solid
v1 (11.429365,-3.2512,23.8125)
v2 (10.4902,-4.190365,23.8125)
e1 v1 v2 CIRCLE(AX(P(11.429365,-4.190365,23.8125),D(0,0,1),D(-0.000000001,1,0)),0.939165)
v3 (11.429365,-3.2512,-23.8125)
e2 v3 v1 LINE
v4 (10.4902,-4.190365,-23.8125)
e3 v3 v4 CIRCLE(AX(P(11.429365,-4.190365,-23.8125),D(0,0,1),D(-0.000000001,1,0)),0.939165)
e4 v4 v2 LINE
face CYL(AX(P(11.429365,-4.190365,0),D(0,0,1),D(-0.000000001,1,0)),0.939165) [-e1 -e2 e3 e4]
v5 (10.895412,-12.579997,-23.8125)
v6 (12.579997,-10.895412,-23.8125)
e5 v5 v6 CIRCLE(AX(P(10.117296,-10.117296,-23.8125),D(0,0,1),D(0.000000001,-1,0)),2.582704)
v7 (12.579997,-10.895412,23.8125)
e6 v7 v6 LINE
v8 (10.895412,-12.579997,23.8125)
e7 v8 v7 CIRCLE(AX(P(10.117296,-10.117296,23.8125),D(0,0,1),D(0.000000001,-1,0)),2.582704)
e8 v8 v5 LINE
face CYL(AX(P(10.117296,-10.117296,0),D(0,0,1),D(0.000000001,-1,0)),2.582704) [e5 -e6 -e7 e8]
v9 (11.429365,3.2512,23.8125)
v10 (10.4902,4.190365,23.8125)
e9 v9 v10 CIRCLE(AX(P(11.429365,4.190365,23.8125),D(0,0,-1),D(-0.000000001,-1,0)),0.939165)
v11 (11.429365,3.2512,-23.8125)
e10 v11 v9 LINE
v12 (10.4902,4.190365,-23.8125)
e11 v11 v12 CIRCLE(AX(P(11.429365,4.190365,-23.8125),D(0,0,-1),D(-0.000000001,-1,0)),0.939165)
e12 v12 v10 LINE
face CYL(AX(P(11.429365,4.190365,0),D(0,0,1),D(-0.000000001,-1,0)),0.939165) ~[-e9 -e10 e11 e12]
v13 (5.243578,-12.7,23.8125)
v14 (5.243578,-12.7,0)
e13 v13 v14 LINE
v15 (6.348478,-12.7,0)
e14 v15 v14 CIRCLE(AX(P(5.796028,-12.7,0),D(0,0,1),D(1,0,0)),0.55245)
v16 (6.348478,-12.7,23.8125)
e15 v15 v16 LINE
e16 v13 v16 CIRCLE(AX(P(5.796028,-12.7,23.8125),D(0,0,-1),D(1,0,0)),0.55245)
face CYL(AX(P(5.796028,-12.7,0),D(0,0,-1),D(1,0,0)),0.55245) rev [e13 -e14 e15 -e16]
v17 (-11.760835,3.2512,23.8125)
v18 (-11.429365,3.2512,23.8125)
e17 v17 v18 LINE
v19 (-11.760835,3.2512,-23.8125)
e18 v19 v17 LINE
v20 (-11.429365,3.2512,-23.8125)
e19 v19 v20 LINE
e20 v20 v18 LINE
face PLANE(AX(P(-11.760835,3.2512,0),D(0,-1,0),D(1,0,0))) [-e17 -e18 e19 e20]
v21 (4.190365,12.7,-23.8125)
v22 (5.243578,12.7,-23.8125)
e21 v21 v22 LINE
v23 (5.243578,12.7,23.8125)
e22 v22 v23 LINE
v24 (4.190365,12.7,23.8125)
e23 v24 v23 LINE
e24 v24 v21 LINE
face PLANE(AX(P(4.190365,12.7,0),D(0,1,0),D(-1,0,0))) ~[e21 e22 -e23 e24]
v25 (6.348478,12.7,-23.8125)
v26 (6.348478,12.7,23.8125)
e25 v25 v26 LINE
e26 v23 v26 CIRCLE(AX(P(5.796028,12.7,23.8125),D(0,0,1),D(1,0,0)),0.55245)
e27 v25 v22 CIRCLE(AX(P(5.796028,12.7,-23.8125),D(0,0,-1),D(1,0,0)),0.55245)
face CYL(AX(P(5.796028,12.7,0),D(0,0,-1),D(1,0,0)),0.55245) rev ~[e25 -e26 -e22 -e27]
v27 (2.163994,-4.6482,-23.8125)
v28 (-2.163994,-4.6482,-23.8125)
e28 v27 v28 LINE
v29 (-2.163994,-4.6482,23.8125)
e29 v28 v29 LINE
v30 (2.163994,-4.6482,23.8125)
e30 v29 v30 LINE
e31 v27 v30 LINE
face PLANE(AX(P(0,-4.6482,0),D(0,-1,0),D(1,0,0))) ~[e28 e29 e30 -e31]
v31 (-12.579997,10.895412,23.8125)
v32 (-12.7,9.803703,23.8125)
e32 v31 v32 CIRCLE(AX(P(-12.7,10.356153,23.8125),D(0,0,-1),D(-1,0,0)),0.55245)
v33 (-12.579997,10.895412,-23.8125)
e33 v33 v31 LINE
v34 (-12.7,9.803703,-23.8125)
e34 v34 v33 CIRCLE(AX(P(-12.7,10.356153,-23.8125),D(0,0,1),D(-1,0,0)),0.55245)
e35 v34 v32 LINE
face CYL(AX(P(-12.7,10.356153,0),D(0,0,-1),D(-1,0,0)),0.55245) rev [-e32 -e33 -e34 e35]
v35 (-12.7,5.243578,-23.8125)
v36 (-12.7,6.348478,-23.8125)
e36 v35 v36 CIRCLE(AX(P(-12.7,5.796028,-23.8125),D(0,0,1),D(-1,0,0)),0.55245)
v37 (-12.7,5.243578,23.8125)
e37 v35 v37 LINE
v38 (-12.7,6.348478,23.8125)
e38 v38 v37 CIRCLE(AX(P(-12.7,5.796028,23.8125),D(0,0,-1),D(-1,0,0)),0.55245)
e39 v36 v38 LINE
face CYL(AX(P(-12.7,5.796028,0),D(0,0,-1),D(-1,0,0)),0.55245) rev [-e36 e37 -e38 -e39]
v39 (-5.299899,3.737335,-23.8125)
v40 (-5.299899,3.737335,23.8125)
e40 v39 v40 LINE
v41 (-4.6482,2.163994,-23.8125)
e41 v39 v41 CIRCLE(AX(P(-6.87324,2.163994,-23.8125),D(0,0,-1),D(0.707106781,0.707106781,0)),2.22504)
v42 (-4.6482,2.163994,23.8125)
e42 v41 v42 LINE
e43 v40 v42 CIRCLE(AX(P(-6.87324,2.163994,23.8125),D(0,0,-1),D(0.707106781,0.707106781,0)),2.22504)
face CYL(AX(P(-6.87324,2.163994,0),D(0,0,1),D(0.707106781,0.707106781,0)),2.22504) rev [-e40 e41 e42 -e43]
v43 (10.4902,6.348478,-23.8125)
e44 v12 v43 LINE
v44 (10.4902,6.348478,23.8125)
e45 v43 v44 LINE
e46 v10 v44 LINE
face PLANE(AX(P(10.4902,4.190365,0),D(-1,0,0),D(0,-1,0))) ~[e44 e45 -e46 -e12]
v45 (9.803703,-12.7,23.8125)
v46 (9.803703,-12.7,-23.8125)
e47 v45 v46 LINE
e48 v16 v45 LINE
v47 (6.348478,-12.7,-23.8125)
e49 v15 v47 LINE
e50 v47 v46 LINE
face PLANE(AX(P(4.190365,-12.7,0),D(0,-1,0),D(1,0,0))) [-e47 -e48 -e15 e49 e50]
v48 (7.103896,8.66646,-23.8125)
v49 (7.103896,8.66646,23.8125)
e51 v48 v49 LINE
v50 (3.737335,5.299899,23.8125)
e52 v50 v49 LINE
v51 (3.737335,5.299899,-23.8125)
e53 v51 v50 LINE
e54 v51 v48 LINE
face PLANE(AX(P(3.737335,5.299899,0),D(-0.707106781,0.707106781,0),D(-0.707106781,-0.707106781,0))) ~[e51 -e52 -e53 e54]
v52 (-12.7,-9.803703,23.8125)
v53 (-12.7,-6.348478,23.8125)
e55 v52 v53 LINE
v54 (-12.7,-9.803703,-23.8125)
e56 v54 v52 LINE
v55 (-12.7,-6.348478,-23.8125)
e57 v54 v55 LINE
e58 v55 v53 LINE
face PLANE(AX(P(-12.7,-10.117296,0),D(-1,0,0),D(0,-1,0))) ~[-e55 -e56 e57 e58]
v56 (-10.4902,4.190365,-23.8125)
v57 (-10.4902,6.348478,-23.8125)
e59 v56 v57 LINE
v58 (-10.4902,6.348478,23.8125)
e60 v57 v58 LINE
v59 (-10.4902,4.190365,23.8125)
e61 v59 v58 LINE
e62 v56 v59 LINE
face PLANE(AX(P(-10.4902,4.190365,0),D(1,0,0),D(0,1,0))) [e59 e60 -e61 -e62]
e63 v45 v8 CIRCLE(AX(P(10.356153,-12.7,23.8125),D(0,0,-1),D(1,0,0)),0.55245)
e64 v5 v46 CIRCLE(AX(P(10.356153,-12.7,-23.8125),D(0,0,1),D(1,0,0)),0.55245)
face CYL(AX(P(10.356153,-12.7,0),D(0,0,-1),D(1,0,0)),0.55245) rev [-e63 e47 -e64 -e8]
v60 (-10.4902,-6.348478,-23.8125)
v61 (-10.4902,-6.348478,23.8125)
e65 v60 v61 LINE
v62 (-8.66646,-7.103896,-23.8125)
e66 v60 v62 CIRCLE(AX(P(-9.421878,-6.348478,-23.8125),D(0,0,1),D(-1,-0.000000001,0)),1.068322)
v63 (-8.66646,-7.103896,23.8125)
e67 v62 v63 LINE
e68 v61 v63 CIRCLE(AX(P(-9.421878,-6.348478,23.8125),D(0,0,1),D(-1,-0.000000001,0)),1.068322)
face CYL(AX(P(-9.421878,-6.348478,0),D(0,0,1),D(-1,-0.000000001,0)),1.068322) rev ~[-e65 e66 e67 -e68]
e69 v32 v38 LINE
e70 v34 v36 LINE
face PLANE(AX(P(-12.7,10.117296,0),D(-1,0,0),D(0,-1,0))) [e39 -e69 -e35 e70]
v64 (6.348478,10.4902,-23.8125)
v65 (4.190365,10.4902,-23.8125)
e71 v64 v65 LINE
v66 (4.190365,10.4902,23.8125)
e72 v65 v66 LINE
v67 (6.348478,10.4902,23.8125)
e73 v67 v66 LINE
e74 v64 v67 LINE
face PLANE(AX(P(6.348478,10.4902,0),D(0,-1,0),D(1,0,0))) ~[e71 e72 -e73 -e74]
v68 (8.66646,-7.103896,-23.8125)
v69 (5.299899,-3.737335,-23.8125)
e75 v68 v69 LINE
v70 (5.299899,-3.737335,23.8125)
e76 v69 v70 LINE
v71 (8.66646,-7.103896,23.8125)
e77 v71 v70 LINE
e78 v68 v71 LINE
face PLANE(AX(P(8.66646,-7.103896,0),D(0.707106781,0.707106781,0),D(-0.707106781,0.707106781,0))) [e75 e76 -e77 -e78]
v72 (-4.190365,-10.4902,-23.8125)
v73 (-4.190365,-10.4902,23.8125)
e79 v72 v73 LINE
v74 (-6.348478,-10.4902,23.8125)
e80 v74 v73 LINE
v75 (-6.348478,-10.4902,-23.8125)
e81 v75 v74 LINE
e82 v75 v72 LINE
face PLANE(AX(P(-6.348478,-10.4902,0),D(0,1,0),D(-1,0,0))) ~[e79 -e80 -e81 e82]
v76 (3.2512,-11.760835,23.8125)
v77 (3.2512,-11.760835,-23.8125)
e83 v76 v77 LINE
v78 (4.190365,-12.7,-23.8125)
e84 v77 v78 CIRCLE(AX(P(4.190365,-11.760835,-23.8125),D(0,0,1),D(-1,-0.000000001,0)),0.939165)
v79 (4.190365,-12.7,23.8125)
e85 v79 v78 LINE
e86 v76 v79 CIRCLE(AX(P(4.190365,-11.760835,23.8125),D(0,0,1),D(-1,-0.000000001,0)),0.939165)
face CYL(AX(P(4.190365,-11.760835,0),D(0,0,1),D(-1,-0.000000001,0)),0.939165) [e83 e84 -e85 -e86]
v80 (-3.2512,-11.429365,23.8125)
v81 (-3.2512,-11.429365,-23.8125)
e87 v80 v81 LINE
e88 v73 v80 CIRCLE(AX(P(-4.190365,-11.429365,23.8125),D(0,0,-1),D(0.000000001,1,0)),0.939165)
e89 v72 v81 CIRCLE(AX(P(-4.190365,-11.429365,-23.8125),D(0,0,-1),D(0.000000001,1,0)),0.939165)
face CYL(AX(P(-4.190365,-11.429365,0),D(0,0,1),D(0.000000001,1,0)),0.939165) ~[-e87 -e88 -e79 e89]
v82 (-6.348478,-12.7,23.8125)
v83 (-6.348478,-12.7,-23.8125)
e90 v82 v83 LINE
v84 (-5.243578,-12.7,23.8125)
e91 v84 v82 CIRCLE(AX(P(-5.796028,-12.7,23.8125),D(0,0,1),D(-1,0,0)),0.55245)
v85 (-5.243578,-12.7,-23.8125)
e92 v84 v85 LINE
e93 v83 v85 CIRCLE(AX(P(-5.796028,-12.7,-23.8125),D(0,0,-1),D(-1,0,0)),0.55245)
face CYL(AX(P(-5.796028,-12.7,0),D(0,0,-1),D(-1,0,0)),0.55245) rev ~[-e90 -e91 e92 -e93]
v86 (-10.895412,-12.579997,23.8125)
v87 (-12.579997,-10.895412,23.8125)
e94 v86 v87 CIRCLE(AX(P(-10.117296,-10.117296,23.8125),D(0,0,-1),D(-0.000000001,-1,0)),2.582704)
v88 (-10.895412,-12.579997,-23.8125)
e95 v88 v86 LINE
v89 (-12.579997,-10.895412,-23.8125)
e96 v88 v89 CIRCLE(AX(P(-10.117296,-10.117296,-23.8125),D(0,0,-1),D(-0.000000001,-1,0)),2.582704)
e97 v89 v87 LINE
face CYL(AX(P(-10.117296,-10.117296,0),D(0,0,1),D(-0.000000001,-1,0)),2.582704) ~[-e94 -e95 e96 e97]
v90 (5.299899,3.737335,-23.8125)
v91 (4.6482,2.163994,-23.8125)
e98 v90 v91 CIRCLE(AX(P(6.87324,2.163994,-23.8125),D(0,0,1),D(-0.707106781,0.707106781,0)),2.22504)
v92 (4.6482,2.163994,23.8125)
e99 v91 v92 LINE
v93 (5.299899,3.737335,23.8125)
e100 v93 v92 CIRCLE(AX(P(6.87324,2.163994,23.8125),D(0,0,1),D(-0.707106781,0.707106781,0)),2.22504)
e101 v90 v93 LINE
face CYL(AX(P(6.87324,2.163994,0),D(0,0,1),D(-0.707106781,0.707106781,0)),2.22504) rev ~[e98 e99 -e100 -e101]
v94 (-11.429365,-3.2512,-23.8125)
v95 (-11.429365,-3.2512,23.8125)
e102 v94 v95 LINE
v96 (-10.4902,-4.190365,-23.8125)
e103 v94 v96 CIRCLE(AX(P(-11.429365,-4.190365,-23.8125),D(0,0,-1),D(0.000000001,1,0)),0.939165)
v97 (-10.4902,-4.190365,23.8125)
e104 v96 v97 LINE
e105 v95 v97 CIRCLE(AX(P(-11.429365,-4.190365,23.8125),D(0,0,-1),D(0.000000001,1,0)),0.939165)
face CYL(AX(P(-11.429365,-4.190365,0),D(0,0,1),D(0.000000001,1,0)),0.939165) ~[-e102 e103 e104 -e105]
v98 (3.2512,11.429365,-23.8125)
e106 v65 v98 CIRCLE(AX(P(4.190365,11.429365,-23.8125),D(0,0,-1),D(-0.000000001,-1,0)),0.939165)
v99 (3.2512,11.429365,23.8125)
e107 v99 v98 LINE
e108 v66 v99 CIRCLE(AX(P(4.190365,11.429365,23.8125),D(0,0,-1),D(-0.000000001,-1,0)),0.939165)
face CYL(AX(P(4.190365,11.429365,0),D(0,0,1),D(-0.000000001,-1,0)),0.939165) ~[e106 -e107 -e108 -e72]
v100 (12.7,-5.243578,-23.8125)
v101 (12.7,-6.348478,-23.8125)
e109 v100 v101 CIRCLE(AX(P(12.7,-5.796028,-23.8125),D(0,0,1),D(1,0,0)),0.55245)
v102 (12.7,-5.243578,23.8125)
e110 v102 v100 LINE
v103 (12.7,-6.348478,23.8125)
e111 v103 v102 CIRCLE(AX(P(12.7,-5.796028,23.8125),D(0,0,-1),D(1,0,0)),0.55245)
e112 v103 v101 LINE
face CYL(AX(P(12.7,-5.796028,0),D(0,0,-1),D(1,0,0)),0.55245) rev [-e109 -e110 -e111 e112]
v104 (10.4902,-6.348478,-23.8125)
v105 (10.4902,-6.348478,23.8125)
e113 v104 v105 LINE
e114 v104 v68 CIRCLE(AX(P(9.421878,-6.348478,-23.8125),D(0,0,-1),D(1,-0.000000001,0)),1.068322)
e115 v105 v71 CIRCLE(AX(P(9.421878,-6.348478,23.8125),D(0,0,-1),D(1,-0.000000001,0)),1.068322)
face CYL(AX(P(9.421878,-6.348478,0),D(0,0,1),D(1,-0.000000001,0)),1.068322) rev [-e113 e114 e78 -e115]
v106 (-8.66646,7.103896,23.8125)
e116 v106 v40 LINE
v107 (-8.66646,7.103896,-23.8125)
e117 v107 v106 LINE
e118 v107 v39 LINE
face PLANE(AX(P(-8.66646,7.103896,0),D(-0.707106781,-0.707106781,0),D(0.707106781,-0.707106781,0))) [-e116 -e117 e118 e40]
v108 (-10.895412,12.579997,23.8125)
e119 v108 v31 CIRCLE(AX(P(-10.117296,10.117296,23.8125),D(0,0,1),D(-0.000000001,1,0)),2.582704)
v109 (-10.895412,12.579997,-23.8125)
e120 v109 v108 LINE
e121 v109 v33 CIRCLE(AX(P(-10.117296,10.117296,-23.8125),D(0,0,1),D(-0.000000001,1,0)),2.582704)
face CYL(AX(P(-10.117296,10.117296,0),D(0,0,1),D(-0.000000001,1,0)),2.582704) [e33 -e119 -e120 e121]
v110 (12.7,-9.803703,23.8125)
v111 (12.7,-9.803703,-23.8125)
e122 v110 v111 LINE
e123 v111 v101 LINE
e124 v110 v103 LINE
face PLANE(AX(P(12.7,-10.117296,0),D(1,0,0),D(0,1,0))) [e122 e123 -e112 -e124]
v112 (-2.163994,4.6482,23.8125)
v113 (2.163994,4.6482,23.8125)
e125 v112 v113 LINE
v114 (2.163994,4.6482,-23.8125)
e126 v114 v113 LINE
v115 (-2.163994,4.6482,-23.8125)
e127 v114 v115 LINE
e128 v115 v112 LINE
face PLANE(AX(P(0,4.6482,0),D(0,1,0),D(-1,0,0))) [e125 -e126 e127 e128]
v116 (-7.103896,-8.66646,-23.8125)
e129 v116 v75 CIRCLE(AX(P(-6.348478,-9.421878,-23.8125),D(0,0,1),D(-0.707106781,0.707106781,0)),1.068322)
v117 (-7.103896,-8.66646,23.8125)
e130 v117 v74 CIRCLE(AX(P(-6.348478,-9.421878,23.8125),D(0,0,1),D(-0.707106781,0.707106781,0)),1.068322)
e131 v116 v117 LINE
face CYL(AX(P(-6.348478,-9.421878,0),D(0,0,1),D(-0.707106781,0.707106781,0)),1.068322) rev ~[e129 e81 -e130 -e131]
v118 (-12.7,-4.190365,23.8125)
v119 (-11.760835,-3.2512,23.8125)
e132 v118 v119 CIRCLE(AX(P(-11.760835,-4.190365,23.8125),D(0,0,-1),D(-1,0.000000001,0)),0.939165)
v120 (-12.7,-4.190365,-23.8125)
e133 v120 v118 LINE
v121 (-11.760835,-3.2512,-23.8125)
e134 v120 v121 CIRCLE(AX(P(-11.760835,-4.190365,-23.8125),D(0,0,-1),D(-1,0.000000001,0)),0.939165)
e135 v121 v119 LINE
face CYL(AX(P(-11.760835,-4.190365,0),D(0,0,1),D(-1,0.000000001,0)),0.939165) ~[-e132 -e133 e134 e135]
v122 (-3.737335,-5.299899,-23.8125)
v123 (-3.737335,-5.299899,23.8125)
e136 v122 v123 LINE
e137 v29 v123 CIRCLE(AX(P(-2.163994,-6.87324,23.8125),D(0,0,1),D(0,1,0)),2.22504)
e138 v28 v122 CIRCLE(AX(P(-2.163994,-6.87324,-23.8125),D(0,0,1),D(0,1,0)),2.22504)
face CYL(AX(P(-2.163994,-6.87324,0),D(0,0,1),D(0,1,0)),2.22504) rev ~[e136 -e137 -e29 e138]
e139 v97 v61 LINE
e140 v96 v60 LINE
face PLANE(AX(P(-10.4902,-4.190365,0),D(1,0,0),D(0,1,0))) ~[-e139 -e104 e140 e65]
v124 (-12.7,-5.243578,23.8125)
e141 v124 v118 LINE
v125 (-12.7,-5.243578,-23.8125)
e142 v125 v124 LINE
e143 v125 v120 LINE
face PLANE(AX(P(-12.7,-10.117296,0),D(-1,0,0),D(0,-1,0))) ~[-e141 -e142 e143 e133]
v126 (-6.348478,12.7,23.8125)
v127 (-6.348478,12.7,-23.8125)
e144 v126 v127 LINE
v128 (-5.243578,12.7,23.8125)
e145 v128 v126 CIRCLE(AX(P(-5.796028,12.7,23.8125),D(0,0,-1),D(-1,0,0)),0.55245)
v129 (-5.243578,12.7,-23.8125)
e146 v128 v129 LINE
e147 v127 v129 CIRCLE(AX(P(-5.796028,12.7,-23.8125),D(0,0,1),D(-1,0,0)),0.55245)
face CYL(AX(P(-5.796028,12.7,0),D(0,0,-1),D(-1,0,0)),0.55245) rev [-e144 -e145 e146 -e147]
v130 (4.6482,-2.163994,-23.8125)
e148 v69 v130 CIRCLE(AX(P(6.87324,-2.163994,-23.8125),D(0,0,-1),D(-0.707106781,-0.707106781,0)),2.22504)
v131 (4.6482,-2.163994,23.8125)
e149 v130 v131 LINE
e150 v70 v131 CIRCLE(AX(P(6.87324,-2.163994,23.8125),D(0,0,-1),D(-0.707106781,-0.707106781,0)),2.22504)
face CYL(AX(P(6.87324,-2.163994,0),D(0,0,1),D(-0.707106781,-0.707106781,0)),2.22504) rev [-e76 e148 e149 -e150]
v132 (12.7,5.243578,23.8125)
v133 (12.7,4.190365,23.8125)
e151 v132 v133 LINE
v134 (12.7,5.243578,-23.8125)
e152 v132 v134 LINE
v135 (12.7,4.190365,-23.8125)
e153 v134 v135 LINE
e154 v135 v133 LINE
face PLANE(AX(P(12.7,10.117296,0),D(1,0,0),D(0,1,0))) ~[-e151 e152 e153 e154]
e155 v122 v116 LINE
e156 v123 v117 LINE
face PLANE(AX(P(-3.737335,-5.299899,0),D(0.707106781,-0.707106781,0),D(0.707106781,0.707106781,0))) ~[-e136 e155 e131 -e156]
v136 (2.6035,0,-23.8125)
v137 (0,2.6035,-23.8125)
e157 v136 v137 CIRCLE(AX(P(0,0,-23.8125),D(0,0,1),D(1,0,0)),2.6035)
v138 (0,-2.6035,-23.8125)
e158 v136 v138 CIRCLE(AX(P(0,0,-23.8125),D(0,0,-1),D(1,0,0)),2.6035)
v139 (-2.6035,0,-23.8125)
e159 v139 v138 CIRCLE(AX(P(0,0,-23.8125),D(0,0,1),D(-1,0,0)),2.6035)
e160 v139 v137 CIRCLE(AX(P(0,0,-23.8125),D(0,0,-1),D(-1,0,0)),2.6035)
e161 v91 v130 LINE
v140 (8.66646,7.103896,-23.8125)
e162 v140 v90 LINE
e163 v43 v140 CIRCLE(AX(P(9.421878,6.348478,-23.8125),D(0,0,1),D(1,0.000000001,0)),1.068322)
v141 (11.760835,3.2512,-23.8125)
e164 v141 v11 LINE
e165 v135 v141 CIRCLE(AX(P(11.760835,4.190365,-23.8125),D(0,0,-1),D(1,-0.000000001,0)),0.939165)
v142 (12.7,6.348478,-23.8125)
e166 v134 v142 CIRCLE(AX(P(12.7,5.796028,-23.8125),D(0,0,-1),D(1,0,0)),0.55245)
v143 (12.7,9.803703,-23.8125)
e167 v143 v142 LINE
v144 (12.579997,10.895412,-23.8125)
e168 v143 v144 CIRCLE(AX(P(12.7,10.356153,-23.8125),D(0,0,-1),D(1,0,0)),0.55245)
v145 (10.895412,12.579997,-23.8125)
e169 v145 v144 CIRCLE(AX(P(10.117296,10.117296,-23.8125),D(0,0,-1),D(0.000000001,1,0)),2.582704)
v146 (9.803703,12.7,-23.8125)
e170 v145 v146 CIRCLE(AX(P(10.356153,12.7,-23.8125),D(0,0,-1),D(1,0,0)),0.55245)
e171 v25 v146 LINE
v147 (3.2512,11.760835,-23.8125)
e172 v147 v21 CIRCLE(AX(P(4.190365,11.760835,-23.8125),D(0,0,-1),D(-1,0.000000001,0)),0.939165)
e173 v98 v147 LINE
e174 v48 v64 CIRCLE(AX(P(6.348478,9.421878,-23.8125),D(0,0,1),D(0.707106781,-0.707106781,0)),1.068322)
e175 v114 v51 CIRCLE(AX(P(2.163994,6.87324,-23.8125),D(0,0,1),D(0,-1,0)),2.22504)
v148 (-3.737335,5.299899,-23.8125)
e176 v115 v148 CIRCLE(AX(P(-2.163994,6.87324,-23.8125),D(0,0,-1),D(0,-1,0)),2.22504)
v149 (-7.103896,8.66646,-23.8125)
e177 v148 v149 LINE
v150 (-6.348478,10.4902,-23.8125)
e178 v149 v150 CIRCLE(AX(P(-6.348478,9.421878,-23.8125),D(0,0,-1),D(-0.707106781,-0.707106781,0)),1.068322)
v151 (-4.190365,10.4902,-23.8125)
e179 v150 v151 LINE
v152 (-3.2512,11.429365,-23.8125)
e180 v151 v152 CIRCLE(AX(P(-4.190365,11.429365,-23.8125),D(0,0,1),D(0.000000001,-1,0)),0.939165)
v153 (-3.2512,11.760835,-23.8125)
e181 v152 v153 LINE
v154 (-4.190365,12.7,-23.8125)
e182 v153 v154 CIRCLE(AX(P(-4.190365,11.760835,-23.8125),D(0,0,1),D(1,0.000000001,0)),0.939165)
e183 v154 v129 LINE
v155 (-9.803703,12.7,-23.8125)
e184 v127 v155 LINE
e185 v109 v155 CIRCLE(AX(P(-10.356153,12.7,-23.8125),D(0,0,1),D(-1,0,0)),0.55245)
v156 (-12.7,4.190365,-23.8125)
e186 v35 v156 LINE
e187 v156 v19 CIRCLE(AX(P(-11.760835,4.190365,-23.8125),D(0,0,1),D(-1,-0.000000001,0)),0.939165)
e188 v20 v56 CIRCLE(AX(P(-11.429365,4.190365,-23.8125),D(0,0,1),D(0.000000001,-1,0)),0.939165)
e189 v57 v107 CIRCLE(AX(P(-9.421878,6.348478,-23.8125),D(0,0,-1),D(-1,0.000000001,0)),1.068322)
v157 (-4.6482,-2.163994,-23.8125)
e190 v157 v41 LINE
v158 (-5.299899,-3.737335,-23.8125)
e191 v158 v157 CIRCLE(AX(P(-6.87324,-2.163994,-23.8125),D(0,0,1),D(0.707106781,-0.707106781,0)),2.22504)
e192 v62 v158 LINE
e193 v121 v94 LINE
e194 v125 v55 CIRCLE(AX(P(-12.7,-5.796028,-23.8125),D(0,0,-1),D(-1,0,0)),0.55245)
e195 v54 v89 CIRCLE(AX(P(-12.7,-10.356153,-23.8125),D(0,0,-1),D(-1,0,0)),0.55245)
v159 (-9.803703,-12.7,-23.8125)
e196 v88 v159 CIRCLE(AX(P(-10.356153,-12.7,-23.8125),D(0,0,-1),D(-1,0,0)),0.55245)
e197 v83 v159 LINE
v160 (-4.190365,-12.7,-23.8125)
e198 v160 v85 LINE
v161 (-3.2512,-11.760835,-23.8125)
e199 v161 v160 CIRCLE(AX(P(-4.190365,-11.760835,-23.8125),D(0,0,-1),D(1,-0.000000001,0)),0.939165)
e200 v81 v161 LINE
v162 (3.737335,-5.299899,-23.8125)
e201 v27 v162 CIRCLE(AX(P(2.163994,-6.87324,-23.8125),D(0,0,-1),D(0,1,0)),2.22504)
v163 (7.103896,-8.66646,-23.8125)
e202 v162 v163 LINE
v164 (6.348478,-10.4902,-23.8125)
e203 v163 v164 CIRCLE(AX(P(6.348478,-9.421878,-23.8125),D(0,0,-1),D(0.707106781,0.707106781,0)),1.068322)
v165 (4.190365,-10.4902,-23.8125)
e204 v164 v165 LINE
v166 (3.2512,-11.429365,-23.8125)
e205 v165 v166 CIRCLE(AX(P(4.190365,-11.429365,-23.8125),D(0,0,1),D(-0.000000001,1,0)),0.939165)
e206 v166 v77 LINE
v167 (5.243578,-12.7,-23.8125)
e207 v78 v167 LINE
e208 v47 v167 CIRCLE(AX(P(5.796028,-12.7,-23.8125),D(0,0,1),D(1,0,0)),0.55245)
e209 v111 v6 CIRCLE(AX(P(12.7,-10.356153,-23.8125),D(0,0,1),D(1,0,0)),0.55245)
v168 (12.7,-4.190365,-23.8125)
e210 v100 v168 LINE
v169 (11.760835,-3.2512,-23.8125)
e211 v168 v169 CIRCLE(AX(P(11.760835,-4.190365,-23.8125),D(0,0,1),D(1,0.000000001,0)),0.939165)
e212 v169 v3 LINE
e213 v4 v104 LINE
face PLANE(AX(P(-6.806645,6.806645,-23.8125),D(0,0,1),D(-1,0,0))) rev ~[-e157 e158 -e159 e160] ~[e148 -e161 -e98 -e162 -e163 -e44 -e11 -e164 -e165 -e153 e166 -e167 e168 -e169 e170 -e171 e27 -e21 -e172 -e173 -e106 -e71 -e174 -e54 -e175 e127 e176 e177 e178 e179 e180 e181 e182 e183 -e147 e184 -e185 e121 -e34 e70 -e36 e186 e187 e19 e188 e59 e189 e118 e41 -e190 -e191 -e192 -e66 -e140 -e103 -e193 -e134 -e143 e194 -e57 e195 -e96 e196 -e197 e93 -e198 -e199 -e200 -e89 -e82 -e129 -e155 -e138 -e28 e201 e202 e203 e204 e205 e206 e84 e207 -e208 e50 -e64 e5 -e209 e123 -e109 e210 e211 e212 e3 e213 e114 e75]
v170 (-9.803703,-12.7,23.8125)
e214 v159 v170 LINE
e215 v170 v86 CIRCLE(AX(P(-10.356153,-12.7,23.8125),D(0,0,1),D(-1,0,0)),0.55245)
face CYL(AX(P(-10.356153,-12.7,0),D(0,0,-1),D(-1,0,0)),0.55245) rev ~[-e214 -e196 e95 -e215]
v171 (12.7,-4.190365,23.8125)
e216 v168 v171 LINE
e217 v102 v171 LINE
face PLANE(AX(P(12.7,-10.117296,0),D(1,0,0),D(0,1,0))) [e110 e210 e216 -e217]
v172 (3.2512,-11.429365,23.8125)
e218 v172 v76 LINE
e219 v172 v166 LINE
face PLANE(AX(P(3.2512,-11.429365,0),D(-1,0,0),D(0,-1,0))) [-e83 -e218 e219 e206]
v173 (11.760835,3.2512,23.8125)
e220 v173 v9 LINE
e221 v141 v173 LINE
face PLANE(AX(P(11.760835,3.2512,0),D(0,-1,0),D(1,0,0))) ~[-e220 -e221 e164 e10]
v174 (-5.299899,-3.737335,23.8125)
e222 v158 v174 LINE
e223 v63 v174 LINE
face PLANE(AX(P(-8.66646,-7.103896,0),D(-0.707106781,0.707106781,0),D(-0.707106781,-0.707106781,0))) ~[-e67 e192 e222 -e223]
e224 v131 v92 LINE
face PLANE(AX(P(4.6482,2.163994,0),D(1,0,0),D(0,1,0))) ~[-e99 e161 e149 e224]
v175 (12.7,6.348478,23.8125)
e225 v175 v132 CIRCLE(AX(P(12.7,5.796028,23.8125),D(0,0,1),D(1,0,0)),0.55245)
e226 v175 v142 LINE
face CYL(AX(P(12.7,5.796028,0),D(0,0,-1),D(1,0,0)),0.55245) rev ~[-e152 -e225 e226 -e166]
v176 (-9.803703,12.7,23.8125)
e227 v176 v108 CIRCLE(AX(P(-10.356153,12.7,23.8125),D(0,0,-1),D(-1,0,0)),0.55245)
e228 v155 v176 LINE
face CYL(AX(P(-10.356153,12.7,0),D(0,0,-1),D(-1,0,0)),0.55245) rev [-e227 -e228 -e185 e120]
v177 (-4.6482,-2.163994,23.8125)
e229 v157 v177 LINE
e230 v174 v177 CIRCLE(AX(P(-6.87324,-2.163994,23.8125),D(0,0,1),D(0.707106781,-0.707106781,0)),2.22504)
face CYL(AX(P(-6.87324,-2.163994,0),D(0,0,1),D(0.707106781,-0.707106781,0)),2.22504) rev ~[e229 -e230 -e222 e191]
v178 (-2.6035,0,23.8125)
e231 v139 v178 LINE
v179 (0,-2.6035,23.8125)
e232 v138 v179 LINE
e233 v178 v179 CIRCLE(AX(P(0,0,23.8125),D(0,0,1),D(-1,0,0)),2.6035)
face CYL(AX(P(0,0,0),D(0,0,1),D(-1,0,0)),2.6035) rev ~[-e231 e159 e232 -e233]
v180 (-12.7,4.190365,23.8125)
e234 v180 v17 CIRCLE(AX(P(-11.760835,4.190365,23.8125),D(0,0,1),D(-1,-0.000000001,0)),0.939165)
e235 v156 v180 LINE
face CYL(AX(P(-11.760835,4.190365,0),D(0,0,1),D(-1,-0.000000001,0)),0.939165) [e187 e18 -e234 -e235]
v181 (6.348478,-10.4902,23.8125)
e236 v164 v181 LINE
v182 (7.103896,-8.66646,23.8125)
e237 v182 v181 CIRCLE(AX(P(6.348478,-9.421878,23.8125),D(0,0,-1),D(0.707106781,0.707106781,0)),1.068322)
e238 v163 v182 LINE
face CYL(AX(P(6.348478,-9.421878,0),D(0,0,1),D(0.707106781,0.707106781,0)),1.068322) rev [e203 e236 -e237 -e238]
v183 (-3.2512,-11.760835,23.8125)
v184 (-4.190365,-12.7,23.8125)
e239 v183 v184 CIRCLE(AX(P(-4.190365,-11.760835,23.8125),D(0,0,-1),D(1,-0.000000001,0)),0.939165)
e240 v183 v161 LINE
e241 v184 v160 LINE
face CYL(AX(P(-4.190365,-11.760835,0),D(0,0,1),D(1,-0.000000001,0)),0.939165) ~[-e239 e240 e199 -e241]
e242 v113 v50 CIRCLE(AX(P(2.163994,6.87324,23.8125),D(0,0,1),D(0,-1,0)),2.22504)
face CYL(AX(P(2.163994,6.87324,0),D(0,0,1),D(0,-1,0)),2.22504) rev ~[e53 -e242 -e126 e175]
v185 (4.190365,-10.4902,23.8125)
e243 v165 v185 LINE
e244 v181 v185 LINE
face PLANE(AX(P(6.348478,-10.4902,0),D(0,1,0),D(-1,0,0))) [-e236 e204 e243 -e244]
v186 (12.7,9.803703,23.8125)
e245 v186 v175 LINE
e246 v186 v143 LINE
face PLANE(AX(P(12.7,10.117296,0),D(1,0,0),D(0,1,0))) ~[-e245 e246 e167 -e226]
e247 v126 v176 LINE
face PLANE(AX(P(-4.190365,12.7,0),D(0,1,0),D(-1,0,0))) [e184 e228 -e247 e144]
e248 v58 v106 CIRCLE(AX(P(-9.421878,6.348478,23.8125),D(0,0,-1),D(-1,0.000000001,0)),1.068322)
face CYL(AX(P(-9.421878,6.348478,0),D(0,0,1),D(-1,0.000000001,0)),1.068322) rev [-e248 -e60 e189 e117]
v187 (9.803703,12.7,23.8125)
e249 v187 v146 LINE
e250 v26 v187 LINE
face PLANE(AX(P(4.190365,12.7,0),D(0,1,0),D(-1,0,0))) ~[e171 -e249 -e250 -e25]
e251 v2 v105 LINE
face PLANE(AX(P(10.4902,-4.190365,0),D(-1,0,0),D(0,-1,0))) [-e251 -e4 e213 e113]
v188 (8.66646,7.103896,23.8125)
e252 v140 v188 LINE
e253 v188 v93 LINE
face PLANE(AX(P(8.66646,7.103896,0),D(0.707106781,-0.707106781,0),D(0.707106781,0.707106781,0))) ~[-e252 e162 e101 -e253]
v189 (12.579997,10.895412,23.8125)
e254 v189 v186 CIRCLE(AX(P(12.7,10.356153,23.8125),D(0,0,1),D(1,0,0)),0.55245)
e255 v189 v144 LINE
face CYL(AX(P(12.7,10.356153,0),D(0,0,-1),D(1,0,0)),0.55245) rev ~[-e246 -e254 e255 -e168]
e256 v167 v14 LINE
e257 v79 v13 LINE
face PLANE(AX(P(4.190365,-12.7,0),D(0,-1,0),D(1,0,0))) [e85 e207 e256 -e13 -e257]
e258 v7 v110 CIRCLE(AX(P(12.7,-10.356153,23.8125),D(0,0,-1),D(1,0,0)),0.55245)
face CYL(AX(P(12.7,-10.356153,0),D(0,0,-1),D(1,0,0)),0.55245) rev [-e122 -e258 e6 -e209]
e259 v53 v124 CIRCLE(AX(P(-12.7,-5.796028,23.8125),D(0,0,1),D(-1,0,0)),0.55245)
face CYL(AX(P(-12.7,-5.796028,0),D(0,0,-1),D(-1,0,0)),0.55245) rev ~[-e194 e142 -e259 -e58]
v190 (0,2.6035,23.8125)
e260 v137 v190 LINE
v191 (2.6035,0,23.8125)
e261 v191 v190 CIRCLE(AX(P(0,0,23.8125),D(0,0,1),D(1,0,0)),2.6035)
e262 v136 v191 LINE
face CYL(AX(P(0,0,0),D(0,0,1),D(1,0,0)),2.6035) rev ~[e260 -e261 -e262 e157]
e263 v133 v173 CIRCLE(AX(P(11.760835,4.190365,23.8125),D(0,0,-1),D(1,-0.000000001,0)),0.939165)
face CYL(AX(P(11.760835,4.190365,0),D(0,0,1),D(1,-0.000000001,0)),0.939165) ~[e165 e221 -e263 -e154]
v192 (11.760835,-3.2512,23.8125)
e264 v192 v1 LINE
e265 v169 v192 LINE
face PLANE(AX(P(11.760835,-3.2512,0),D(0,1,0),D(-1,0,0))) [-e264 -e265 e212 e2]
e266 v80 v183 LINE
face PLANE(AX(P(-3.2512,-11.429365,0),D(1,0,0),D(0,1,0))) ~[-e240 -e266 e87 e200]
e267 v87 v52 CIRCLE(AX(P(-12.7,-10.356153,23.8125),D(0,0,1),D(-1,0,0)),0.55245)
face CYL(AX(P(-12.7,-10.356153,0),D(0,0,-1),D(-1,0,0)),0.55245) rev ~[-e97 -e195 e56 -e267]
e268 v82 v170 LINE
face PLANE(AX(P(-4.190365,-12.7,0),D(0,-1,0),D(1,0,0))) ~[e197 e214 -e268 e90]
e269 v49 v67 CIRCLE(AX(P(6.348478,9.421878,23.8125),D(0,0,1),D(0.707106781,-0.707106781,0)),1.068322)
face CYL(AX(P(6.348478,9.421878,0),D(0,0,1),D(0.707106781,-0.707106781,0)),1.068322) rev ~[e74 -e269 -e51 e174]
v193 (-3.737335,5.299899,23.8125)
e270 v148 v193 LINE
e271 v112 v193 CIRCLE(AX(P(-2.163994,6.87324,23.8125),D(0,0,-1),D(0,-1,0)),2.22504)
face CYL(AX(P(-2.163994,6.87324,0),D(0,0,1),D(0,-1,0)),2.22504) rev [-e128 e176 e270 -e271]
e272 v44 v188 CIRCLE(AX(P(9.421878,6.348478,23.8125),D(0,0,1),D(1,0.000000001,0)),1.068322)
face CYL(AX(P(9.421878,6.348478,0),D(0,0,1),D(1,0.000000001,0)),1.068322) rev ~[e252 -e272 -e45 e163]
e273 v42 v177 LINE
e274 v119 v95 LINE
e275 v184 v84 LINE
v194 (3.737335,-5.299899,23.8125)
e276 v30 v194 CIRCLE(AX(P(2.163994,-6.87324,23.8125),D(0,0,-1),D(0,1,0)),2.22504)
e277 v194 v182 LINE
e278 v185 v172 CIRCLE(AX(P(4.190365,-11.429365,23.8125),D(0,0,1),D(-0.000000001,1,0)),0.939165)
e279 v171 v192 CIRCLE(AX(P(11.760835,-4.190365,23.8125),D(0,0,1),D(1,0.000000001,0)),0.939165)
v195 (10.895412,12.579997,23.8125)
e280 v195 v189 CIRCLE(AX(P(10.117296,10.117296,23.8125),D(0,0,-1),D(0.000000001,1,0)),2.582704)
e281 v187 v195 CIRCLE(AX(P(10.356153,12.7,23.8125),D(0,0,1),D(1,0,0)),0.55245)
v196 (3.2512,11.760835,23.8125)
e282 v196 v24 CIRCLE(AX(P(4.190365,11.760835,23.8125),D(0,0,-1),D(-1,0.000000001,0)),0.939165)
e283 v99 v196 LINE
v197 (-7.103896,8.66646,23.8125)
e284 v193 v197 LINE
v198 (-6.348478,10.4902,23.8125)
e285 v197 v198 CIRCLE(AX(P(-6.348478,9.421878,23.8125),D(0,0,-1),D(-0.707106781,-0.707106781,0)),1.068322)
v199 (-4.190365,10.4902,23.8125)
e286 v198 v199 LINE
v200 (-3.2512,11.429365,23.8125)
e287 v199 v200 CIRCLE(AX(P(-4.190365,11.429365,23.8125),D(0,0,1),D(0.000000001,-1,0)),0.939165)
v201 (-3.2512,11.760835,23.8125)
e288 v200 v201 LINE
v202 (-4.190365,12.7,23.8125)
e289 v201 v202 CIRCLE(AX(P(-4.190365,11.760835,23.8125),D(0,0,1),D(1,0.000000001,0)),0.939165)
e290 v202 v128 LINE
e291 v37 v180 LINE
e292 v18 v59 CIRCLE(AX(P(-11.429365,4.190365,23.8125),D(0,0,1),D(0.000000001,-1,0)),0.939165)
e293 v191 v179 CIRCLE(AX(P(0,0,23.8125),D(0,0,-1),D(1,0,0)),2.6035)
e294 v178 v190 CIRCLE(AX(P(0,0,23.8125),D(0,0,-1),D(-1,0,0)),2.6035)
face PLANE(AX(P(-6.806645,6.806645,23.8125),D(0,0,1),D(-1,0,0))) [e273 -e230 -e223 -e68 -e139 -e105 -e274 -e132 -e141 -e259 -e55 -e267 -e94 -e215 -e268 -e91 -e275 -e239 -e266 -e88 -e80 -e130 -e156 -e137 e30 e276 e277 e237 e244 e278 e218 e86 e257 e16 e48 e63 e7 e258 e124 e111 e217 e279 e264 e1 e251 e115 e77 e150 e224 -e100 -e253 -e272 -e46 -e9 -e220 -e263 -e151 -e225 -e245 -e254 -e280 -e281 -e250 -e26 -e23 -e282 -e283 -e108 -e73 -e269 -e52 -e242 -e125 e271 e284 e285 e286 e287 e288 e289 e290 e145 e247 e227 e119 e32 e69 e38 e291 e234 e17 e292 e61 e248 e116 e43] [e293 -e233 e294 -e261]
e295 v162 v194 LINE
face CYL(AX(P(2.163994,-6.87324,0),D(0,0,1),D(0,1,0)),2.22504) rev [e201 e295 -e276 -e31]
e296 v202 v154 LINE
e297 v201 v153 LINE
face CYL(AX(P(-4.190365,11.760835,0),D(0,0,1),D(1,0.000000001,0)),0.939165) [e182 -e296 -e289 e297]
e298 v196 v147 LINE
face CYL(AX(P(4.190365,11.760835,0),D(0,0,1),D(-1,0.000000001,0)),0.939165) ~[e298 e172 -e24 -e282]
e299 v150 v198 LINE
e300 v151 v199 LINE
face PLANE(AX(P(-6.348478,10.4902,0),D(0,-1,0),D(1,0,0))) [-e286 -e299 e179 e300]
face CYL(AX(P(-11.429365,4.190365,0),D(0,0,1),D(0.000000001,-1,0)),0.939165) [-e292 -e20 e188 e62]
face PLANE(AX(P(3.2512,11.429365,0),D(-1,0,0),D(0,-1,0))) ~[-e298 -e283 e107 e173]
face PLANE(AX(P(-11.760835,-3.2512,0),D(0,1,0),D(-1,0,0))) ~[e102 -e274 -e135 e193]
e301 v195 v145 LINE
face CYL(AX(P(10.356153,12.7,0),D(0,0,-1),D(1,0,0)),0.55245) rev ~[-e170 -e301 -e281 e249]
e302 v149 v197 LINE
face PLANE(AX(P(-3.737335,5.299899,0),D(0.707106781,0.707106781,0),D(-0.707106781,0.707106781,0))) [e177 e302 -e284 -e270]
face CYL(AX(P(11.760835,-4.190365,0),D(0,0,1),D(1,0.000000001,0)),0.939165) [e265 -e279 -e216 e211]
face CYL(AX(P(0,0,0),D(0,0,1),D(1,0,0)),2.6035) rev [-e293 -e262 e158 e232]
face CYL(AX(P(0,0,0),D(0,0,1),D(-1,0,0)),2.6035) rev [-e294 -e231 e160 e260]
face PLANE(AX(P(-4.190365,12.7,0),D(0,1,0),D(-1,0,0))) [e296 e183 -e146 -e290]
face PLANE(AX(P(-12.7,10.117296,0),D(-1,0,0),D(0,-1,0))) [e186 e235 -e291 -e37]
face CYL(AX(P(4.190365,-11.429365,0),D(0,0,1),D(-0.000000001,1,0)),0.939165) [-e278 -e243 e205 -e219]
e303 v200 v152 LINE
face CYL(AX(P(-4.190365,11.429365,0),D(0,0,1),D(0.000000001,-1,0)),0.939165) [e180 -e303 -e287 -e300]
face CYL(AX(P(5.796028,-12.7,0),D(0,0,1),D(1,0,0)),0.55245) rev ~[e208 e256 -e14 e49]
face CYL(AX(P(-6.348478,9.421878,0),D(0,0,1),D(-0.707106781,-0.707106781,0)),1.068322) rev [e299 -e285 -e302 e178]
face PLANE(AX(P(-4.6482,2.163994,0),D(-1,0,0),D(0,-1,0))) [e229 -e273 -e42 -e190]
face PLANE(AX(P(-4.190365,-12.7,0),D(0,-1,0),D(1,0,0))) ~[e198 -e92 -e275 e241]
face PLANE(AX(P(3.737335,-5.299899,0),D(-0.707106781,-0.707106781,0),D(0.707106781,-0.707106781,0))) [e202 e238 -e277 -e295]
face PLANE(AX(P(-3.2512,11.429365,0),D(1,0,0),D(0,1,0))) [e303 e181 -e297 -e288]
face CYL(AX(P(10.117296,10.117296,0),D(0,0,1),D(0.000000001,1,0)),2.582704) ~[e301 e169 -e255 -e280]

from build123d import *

# Parameters (mm, degrees)
BOSS_EXTRUDE1_DEPTH     = 23.8125
SKETCH5_R               = 0.55245
CUT_EXTRUDE1_DEPTH      = 24.8125
CUT_EXTRUDE1_DEPTH_BACK = 24.8125


with BuildPart() as part:
    # Sketch4 → Boss-Extrude1 (new body, symmetric)
    with BuildSketch(Plane.XY):
        with BuildLine():
            Line((4.190365, -12.7), (10.11729625, -12.7))
            ThreePointArc((10.11729625, -12.7), (11.943543585, -11.943543585), (12.7, -10.11729625))
            Line((12.7, -10.11729625), (12.7, -4.190365))
            ThreePointArc((12.7, -4.190365), (12.42492494, -3.52627506), (11.760835, -3.2512))
            Line((11.760835, -3.2512), (11.429365, -3.2512))
            ThreePointArc((11.429365, -3.2512), (10.76527506, -3.52627506), (10.4902, -4.190365))
            Line((10.4902, -4.190365), (10.4902, -6.348478019))
            ThreePointArc((10.4902, -6.348478019), (9.830707141, -7.335478831), (8.666460301, -7.103895736))
            Line((8.666460301, -7.103895736), (5.299899128, -3.737334563))
            ThreePointArc((5.299899128, -3.737334563), (4.817571085, -3.015479634), (4.6482, -2.16399369))
            Line((4.6482, -2.16399369), (4.6482, 0))
            Line((4.6482, 0), (2.6035, 0))
            ThreePointArc((2.6035, 0), (1.840952505, -1.840952505), (0, -2.6035))
            Line((0, -2.6035), (0, -4.6482))
            Line((0, -4.6482), (2.16399369, -4.6482))
            ThreePointArc((2.16399369, -4.6482), (3.015479634, -4.817571085), (3.737334563, -5.299899128))
            Line((3.737334563, -5.299899128), (7.103895736, -8.666460301))
            ThreePointArc((7.103895736, -8.666460301), (7.335478831, -9.830707141), (6.348478019, -10.4902))
            Line((6.348478019, -10.4902), (4.190365, -10.4902))
            ThreePointArc((4.190365, -10.4902), (3.52627506, -10.76527506), (3.2512, -11.429365))
            Line((3.2512, -11.429365), (3.2512, -11.760835))
            ThreePointArc((3.2512, -11.760835), (3.52627506, -12.42492494), (4.190365, -12.7))
        make_face()
    extrude(amount=BOSS_EXTRUDE1_DEPTH, both=True)

    # Sketch5 → Cut-Extrude1 (cut, two sides)
    with BuildSketch(Plane.XY) as cut_extrude1_sk:
        with Locations((10.356153152, -12.7)):
            Circle(SKETCH5_R)
        with Locations((5.796028019, -12.7)):
            Circle(SKETCH5_R)
        with Locations((12.7, -10.356153152)):
            Circle(SKETCH5_R)
        with Locations((12.7, -5.796028019)):
            Circle(SKETCH5_R)
    extrude(amount=CUT_EXTRUDE1_DEPTH, mode=Mode.SUBTRACT)
    extrude(cut_extrude1_sk.sketch, amount=-CUT_EXTRUDE1_DEPTH_BACK, mode=Mode.SUBTRACT)

    # Mirror1: part across plane


with BuildPart() as part_1:
    add(part.part)
    add(part.part.mirror(Plane(origin=(0, 0, 0), x_dir=(0, 0, 1), z_dir=(1, 0, 0))))

    # Mirror2: part across plane


with BuildPart() as part_2:
    add(part_1.part)
    add(part_1.part.mirror(Plane.ZX))


solid = part_2.part
